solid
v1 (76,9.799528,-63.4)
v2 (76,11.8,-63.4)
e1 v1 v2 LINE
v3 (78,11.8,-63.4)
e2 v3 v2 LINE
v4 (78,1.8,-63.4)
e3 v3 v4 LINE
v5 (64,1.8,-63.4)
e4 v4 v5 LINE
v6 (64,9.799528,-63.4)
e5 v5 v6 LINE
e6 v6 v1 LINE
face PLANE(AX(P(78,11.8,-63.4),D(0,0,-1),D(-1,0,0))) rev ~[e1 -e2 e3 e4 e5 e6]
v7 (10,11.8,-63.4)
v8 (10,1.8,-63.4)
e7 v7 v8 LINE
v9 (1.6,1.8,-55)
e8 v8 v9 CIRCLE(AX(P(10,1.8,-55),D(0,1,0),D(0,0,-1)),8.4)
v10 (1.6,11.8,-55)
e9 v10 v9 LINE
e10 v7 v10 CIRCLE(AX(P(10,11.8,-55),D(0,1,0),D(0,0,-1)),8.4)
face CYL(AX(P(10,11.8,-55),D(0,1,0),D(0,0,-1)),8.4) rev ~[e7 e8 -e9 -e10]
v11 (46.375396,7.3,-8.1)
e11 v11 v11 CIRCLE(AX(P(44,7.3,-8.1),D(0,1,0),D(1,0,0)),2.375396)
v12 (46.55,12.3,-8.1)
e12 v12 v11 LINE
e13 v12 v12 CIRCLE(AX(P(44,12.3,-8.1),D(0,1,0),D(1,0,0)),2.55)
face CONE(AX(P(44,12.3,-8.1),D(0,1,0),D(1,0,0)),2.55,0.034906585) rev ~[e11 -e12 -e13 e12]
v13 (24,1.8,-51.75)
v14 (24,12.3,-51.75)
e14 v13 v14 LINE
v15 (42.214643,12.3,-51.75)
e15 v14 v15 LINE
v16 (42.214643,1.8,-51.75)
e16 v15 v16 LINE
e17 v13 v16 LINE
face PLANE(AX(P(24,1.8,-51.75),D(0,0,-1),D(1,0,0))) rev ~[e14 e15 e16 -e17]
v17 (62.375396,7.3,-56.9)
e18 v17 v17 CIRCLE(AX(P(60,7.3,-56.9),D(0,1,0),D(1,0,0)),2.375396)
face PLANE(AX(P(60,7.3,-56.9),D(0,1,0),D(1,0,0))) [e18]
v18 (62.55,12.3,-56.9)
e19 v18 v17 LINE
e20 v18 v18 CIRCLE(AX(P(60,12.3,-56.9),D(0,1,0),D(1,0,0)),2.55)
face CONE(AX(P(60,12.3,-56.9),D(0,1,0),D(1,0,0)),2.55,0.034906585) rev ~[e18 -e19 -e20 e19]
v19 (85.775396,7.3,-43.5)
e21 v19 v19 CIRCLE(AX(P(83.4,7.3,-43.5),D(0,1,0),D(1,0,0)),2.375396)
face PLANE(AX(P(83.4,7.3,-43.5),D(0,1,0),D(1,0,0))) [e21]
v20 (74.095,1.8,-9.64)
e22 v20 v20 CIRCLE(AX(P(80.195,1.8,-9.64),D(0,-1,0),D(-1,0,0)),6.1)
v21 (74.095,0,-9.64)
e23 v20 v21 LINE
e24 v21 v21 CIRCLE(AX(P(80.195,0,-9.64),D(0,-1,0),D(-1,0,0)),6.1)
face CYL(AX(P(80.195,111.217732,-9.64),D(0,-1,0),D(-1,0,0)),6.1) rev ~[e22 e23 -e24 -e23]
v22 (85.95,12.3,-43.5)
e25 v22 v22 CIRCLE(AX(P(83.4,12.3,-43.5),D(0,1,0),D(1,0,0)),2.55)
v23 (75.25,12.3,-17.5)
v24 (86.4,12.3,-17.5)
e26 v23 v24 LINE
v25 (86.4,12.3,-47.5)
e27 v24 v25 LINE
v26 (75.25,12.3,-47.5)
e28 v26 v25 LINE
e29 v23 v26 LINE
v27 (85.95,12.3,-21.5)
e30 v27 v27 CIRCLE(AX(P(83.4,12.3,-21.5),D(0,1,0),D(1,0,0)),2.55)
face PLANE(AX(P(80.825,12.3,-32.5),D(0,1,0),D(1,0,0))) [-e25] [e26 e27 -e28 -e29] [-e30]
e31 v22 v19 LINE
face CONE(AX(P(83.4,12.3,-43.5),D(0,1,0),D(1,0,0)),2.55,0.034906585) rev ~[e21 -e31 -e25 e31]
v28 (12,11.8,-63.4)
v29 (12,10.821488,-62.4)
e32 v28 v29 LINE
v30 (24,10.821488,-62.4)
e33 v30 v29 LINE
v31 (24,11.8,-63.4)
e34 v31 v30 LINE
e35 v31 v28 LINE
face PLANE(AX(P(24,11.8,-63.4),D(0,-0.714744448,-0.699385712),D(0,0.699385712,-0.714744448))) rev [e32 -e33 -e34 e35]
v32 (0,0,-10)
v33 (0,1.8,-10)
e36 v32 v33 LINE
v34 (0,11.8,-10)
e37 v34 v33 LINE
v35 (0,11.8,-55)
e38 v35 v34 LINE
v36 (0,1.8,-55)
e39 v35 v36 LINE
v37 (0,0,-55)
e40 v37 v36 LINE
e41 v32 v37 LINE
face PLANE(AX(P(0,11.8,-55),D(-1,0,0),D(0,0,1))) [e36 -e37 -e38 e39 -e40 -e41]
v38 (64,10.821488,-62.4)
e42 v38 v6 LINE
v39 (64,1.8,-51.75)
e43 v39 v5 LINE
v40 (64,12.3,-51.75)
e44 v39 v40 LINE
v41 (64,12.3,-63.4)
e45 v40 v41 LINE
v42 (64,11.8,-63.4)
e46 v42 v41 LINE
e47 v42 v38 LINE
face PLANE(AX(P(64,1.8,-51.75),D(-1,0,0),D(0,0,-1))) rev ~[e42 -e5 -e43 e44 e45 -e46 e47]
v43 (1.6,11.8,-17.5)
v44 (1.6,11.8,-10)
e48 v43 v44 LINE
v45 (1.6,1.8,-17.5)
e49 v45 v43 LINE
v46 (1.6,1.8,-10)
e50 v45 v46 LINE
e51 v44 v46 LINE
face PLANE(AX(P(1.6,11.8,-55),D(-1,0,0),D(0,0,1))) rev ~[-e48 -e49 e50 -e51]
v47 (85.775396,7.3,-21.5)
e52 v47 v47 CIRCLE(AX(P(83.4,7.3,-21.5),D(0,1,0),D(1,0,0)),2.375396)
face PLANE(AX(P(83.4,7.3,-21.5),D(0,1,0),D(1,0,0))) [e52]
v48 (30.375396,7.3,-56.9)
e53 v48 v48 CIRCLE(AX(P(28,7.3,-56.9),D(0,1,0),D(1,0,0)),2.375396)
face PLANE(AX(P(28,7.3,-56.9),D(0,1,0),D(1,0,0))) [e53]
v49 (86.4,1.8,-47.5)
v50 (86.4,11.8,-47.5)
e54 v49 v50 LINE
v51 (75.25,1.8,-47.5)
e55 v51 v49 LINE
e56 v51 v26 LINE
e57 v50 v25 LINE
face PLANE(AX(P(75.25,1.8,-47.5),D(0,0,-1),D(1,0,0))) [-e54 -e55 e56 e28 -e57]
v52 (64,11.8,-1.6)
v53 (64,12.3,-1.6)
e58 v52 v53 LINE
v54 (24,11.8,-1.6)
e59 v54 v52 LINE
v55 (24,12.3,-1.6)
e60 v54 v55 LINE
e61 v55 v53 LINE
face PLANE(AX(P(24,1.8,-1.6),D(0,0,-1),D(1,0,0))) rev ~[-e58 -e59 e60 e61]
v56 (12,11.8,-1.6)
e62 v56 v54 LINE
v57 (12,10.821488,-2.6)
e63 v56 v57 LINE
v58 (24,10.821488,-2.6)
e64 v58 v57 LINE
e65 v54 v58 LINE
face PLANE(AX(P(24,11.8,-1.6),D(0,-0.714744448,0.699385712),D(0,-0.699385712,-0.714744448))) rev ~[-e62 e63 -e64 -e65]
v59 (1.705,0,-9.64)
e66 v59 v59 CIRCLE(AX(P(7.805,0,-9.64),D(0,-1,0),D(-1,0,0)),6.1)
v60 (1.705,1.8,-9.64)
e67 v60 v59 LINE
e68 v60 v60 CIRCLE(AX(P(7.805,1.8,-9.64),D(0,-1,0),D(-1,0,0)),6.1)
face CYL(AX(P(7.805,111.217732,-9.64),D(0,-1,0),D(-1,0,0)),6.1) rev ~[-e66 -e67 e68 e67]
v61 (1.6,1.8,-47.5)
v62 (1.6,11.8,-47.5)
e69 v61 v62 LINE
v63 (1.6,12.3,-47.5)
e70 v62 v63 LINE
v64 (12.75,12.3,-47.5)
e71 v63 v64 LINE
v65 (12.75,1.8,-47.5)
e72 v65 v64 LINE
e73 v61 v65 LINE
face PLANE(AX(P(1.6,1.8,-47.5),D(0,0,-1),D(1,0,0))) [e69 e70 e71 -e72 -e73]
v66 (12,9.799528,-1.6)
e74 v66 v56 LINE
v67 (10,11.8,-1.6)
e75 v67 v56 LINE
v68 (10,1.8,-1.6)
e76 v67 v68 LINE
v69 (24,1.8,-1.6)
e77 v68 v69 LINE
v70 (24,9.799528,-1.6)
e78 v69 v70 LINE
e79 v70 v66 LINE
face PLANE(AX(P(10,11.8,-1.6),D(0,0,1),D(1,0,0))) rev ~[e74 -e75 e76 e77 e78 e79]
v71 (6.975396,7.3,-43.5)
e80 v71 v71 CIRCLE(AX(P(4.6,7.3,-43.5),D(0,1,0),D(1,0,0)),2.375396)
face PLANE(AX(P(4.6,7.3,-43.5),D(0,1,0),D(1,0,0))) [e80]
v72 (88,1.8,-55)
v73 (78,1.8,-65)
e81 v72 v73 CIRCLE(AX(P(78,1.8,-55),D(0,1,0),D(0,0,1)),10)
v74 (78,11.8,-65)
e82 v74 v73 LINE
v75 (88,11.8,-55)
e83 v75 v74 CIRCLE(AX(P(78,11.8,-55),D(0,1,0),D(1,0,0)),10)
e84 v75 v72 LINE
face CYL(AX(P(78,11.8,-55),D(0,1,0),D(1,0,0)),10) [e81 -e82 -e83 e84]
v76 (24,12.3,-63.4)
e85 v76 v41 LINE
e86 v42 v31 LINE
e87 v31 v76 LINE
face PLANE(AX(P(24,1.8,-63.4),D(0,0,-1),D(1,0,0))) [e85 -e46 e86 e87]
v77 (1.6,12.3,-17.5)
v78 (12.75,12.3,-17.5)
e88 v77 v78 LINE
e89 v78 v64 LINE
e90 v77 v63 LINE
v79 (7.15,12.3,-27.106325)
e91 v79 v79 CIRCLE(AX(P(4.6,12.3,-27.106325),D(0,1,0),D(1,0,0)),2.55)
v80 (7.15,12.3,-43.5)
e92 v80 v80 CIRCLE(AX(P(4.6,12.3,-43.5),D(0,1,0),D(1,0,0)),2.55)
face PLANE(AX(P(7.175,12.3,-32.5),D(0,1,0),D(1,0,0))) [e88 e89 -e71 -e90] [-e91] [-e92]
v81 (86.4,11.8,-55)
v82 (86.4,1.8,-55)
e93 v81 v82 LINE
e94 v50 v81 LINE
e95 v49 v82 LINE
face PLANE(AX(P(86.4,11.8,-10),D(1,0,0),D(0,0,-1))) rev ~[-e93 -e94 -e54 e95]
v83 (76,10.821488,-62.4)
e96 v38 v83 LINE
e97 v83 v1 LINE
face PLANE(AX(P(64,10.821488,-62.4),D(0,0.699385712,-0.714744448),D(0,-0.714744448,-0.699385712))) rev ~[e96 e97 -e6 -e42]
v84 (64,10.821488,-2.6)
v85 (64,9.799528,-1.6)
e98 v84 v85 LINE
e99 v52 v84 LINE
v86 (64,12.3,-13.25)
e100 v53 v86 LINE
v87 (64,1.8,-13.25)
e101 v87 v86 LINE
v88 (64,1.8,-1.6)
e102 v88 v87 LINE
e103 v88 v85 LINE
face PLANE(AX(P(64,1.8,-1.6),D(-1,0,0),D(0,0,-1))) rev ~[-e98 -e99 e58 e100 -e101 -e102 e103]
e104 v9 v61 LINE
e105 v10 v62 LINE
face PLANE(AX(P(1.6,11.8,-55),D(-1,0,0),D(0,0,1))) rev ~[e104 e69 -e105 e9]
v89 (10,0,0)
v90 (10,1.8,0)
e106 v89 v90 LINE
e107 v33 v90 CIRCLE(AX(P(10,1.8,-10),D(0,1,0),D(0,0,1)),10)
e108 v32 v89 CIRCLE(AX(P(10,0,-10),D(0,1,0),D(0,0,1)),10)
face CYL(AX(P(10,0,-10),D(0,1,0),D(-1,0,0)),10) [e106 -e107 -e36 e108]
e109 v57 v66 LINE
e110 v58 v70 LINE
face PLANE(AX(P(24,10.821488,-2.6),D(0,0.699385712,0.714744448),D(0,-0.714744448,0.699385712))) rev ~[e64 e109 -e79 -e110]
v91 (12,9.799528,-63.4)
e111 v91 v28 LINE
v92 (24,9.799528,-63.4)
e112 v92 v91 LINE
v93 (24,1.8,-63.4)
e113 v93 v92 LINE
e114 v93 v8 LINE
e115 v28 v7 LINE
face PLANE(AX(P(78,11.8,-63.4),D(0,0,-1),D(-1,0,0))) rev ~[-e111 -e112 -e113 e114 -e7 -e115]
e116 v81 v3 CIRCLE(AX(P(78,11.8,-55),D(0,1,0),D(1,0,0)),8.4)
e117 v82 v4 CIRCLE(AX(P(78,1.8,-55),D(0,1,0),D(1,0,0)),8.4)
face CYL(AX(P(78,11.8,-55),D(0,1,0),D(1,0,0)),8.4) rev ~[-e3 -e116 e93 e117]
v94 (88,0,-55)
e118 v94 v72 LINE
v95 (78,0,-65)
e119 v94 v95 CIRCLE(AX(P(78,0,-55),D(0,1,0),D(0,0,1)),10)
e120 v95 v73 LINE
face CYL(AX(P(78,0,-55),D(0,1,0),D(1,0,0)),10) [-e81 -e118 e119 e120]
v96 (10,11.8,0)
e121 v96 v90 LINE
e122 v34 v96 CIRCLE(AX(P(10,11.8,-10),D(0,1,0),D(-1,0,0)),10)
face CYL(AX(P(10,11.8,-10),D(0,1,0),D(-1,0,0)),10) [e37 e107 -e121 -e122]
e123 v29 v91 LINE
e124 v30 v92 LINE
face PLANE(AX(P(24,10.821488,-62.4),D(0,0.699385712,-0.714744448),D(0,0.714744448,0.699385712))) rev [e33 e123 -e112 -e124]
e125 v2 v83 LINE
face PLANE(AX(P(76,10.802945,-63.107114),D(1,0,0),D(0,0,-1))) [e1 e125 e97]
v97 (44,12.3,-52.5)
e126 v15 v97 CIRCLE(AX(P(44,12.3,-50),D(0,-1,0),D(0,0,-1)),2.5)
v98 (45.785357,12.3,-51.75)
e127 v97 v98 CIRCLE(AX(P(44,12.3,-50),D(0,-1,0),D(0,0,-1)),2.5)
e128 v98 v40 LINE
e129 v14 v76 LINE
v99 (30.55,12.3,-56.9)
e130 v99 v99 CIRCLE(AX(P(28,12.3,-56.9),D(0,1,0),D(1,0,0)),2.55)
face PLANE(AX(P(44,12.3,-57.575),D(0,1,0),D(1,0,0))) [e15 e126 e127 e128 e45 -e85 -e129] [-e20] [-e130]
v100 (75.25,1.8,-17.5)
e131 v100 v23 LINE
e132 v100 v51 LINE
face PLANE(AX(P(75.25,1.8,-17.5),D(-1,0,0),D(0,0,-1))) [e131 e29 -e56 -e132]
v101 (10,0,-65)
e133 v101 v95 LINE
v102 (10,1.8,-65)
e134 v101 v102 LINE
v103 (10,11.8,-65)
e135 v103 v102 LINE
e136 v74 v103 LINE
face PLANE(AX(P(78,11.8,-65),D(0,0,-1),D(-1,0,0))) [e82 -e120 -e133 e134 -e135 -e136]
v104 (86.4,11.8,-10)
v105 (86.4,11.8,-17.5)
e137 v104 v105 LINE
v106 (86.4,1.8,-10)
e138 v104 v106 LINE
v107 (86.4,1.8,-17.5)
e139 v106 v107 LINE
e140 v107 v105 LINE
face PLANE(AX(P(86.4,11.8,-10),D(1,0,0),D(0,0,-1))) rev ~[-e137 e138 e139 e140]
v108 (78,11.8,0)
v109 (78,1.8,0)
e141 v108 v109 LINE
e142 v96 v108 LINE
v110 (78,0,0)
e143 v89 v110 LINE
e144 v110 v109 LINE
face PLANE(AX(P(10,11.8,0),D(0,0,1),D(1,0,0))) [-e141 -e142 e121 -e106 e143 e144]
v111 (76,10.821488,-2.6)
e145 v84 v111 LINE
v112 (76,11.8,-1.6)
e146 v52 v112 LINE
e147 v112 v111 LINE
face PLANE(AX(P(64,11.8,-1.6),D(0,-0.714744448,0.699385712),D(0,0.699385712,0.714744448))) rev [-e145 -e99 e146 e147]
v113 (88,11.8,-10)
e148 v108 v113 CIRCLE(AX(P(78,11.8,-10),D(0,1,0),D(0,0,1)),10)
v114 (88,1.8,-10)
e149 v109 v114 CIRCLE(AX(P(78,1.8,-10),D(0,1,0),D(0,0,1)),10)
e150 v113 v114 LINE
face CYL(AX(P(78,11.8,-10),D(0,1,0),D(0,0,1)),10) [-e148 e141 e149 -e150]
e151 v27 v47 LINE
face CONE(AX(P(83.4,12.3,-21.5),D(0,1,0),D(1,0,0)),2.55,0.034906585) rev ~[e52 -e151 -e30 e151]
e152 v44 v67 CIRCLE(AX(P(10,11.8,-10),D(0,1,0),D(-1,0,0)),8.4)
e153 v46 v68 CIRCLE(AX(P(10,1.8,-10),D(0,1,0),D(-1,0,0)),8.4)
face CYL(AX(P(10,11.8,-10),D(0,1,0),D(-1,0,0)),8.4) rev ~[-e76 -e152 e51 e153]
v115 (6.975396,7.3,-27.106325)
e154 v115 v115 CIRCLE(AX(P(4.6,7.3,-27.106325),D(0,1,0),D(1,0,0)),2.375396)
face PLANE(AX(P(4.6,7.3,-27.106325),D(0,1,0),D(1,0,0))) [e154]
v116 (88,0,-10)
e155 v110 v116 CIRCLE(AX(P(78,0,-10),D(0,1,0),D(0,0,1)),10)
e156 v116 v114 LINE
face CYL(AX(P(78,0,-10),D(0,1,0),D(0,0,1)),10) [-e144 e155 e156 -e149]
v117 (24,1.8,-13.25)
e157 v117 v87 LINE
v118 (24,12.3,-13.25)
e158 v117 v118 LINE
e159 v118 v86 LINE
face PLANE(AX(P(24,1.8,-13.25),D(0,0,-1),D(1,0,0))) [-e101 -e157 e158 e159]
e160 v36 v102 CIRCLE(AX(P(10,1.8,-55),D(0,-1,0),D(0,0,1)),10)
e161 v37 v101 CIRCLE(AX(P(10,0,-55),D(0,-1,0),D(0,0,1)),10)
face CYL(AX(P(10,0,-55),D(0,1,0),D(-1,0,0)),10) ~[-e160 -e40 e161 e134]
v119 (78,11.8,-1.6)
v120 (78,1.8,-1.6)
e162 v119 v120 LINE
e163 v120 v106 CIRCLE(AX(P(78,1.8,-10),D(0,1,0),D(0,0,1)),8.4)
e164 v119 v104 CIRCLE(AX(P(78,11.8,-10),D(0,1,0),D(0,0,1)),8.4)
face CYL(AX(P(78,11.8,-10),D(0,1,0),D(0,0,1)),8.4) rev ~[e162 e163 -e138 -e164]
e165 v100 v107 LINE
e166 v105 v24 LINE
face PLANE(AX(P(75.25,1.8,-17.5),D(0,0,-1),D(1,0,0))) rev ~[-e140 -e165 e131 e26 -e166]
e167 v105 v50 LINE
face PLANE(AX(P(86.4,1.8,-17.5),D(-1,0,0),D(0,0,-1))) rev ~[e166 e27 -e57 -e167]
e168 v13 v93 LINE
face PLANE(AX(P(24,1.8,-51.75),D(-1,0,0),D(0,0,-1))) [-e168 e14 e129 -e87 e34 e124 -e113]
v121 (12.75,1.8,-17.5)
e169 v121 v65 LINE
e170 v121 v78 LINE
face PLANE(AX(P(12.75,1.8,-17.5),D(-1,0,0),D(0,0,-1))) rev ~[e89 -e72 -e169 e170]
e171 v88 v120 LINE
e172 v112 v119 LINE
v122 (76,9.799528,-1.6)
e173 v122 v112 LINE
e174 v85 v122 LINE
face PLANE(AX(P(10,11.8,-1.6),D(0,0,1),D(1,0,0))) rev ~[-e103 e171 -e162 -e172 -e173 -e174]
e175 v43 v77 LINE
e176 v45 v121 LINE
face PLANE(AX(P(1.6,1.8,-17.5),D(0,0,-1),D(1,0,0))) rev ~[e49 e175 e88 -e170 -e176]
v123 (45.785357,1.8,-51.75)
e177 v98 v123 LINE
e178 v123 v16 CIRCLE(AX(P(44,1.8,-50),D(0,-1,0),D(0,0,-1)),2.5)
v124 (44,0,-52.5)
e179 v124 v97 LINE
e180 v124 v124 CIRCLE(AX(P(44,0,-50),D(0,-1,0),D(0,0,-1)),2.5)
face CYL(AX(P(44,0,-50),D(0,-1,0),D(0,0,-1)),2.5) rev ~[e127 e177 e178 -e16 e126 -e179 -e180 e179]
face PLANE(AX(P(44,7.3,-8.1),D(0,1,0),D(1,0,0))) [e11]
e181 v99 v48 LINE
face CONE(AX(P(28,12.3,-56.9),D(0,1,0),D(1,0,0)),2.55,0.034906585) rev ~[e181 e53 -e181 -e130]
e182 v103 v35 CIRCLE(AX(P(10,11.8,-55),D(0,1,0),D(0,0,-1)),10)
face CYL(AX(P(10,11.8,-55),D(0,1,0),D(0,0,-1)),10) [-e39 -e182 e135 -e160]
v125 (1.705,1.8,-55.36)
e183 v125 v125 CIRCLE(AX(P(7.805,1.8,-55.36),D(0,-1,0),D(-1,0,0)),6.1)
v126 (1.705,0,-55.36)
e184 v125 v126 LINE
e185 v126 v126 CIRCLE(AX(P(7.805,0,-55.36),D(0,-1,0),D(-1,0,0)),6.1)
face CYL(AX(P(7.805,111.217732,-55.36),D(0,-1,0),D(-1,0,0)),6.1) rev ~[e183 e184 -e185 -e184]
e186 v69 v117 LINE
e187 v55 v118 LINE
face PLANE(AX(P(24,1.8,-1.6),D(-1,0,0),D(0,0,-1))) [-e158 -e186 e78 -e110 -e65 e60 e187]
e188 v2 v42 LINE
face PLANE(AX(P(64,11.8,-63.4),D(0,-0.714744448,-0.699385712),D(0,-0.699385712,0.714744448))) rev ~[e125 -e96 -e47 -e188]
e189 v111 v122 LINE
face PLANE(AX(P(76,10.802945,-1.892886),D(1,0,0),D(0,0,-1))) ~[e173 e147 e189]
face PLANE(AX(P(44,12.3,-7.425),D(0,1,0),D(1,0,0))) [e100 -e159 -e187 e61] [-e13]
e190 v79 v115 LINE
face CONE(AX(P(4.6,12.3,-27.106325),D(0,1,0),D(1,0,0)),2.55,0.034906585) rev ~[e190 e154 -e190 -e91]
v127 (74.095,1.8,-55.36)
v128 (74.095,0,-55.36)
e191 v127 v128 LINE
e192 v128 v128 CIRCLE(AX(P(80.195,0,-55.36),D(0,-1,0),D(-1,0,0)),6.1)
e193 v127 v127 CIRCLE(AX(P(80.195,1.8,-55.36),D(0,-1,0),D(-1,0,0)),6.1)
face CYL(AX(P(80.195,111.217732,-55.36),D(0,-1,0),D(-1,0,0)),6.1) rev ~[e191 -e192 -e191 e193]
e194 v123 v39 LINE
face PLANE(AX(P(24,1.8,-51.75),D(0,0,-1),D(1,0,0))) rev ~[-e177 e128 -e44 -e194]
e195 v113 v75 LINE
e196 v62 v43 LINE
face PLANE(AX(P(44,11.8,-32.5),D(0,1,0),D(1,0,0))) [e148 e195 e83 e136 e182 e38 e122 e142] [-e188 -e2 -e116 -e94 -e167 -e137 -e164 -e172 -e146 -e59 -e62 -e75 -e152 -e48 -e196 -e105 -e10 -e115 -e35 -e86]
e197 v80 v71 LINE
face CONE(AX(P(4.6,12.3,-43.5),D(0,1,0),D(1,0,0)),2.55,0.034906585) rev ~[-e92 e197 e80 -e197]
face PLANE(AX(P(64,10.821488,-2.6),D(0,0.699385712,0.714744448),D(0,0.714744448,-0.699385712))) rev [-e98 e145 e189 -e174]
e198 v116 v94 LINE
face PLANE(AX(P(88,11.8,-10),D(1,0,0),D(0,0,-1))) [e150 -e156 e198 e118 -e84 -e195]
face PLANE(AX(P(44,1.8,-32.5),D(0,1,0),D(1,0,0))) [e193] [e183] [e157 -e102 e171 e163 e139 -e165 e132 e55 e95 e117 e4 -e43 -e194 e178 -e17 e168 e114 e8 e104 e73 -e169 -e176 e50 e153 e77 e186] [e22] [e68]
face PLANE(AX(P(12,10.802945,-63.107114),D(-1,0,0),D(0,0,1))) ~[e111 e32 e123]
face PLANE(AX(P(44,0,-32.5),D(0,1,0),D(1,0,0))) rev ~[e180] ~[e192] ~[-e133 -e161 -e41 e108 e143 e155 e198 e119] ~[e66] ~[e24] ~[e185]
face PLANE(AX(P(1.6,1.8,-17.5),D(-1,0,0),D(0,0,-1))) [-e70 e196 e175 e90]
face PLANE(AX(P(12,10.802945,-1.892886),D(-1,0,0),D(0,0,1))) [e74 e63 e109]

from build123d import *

# Parameters (mm, degrees)
SKETCH1_W                                = 88
SKETCH1_H                                = 65
BOSS_EXTRUDE2_DEPTH                      = 1.8
FILLET1_R                                = 10
F_12_2_12_2_DIAMETER_HOLE1_D             = 12.2
BOSS_EXTRUDE3_START                      = 10
BOSS_EXTRUDE3_DEPTH                      = 10
SKETCH5_W                                = 40
SKETCH5_H                                = 11.65
SKETCH5_W_2                              = 11.15
SKETCH5_H_2                              = 30
BOSS_EXTRUDE4_DEPTH                      = 10.5
SKETCH6_R                                = 2.55
CUT_EXTRUDE1_DEPTH                       = 5
CUT_EXTRUDE1_DRAFT                       = -2
CUT_EXTRUDE1_PROFILE_2_DEPTH             = 5
CUT_EXTRUDE1_PROFILE_2_DRAFT             = -2
CUT_EXTRUDE1_PROFILE_3_DEPTH             = 5
CUT_EXTRUDE1_PROFILE_3_DRAFT             = -2
CUT_EXTRUDE1_PROFILE_4_DEPTH             = 5
CUT_EXTRUDE1_PROFILE_4_DRAFT             = -2
CUT_EXTRUDE1_PROFILE_5_DEPTH             = 5
CUT_EXTRUDE1_PROFILE_5_DRAFT             = -2
CUT_EXTRUDE1_PROFILE_6_DEPTH             = 5
CUT_EXTRUDE1_PROFILE_6_DRAFT             = -2
CUT_EXTRUDE1_PROFILE_7_DEPTH             = 5
CUT_EXTRUDE1_PROFILE_7_DRAFT             = -2
SKETCH7_R                                = 2.5
CUT_EXTRUDE2_DEPTH                       = 111.092188642
BOSS_EXTRUDE5_DEPTH                      = 12
MIRROR1_AT_THE_SECOND_PLANE_COPY_1_DEPTH = 12


with BuildPart() as part:
    # Sketch1 → Boss-Extrude2 (new body)
    with BuildSketch(Plane(origin=(0, 0, 0), x_dir=(1, 0, 0), z_dir=(0, 1, 0))):
        with Locations((44, 32.5)):
            Rectangle(SKETCH1_W, SKETCH1_H)
    extrude(amount=BOSS_EXTRUDE2_DEPTH)

    # Fillet1
    fillet1_edges = [part.edges().sort_by_distance(p)[0] for p in [
        (0, 0.9, -65),
        (88, 0.9, -65),
        (88, 0.9, 0),
        (0, 0.9, 0),
    ]]
    fillet(fillet1_edges, radius=FILLET1_R)

    # Ø12.2 (12.2) Diameter Hole1 (through all)
    with Locations(Plane(origin=(0, 1.8, 0), x_dir=(1, 0, 0), z_dir=(0, 1, 0))):
        with Locations((7.805, 55.36), (80.195, 55.36), (7.805, 9.64), (80.195, 9.64)):
            Hole(F_12_2_12_2_DIAMETER_HOLE1_D / 2)

    # Sketch4 → Boss-Extrude3 (add)
    with BuildSketch(Plane(origin=(0, 1.8, 0), x_dir=(1, 0, 0), z_dir=(0, 1, 0)).offset(BOSS_EXTRUDE3_START)):
        with BuildLine():
            Line((78, 65), (10, 65))
            ThreePointArc((10, 65), (2.928932188, 62.071067812), (0, 55))
            Line((0, 55), (0, 10))
            ThreePointArc((0, 10), (2.928932188, 2.928932188), (10, 0))
            Line((10, 0), (78, 0))
            ThreePointArc((78, 0), (85.071067812, 2.928932188), (88, 10))
            Line((88, 10), (88, 55))
            ThreePointArc((88, 55), (85.071067812, 62.071067812), (78, 65))
        make_face()
        with BuildLine():
            Line((78, 63.4), (10, 63.4))
            ThreePointArc((10, 63.4), (4.060303038, 60.939696962), (1.6, 55))
            Line((1.6, 55), (1.6, 10))
            ThreePointArc((1.6, 10), (4.060303038, 4.060303038), (10, 1.6))
            Line((10, 1.6), (78, 1.6))
            ThreePointArc((78, 1.6), (83.939696962, 4.060303038), (86.4, 10))
            Line((86.4, 10), (86.4, 55))
            ThreePointArc((86.4, 55), (83.939696962, 60.939696962), (78, 63.4))
        make_face(mode=Mode.SUBTRACT)
    extrude(amount=-BOSS_EXTRUDE3_DEPTH)

    # Sketch5 → Boss-Extrude4 (add)
    with BuildSketch(Plane(origin=(0, 1.8, 0), x_dir=(1, 0, 0), z_dir=(0, 1, 0))):
        with Locations((44, 57.575)):
            Rectangle(SKETCH5_W, SKETCH5_H)
        with Locations((44, 7.425)):
            Rectangle(SKETCH5_W, SKETCH5_H)
        with Locations((80.825, 32.5)):
            Rectangle(SKETCH5_W_2, SKETCH5_H_2)
        with Locations((7.175, 32.5)):
            Rectangle(SKETCH5_W_2, SKETCH5_H_2)
    extrude(amount=BOSS_EXTRUDE4_DEPTH)


with BuildPart() as cut_extrude1_tool:
    # Sketch6 → Cut-Extrude1 (with draft: the straight prism first)
    with BuildSketch(Plane(origin=(0, 12.3, 0), x_dir=(1, 0, 0), z_dir=(0, 1, 0))):
        with Locations((60, 56.9)):
            Circle(SKETCH6_R)
    extrude(amount=-CUT_EXTRUDE1_DEPTH)
    # Cut-Extrude1: the draft: its side faces are tilted about the plane it starts from
    cut_extrude1_sides = [cut_extrude1_tool.faces().sort_by_distance(p)[0] for p in [
        (57.45, 9.8, -56.9),
    ]]
    draft(cut_extrude1_sides, Plane(origin=(0, 12.3, 0), x_dir=(1, 0, 0), z_dir=(0, 1, 0)), CUT_EXTRUDE1_DRAFT)


with BuildPart() as part_1:
    add(part.part)

    # Cut-Extrude1: cut by cut_extrude1_tool
    add(cut_extrude1_tool.part, mode=Mode.SUBTRACT)


with BuildPart() as cut_extrude1_profile_2_tool:
    # Sketch6 → Cut-Extrude1 profile 2 (with draft: the straight prism first)
    with BuildSketch(Plane(origin=(0, 12.3, 0), x_dir=(1, 0, 0), z_dir=(0, 1, 0))):
        with Locations((28, 56.9)):
            Circle(SKETCH6_R)
    extrude(amount=-CUT_EXTRUDE1_PROFILE_2_DEPTH)
    # Cut-Extrude1 profile 2: the draft: its side faces are tilted about the plane it starts from
    cut_extrude1_profile_2_sides = [cut_extrude1_profile_2_tool.faces().sort_by_distance(p)[0] for p in [
        (25.45, 9.8, -56.9),
    ]]
    draft(cut_extrude1_profile_2_sides, Plane(origin=(0, 12.3, 0), x_dir=(1, 0, 0), z_dir=(0, 1, 0)), CUT_EXTRUDE1_PROFILE_2_DRAFT)


with BuildPart() as part_2:
    add(part_1.part)

    # Cut-Extrude1 profile 2: cut by cut_extrude1_profile_2_tool
    add(cut_extrude1_profile_2_tool.part, mode=Mode.SUBTRACT)


with BuildPart() as cut_extrude1_profile_3_tool:
    # Sketch6 → Cut-Extrude1 profile 3 (with draft: the straight prism first)
    with BuildSketch(Plane(origin=(0, 12.3, 0), x_dir=(1, 0, 0), z_dir=(0, 1, 0))):
        with Locations((4.6, 43.5)):
            Circle(SKETCH6_R)
    extrude(amount=-CUT_EXTRUDE1_PROFILE_3_DEPTH)
    # Cut-Extrude1 profile 3: the draft: its side faces are tilted about the plane it starts from
    cut_extrude1_profile_3_sides = [cut_extrude1_profile_3_tool.faces().sort_by_distance(p)[0] for p in [
        (2.05, 9.8, -43.5),
    ]]
    draft(cut_extrude1_profile_3_sides, Plane(origin=(0, 12.3, 0), x_dir=(1, 0, 0), z_dir=(0, 1, 0)), CUT_EXTRUDE1_PROFILE_3_DRAFT)


with BuildPart() as part_3:
    add(part_2.part)

    # Cut-Extrude1 profile 3: cut by cut_extrude1_profile_3_tool
    add(cut_extrude1_profile_3_tool.part, mode=Mode.SUBTRACT)


with BuildPart() as cut_extrude1_profile_4_tool:
    # Sketch6 → Cut-Extrude1 profile 4 (with draft: the straight prism first)
    with BuildSketch(Plane(origin=(0, 12.3, 0), x_dir=(1, 0, 0), z_dir=(0, 1, 0))):
        with Locations((4.6, 27.106324955)):
            Circle(SKETCH6_R)
    extrude(amount=-CUT_EXTRUDE1_PROFILE_4_DEPTH)
    # Cut-Extrude1 profile 4: the draft: its side faces are tilted about the plane it starts from
    cut_extrude1_profile_4_sides = [cut_extrude1_profile_4_tool.faces().sort_by_distance(p)[0] for p in [
        (2.05, 9.8, -27.106324955),
    ]]
    draft(cut_extrude1_profile_4_sides, Plane(origin=(0, 12.3, 0), x_dir=(1, 0, 0), z_dir=(0, 1, 0)), CUT_EXTRUDE1_PROFILE_4_DRAFT)


with BuildPart() as part_4:
    add(part_3.part)

    # Cut-Extrude1 profile 4: cut by cut_extrude1_profile_4_tool
    add(cut_extrude1_profile_4_tool.part, mode=Mode.SUBTRACT)


with BuildPart() as cut_extrude1_profile_5_tool:
    # Sketch6 → Cut-Extrude1 profile 5 (with draft: the straight prism first)
    with BuildSketch(Plane(origin=(0, 12.3, 0), x_dir=(1, 0, 0), z_dir=(0, 1, 0))):
        with Locations((83.4, 21.5)):
            Circle(SKETCH6_R)
    extrude(amount=-CUT_EXTRUDE1_PROFILE_5_DEPTH)
    # Cut-Extrude1 profile 5: the draft: its side faces are tilted about the plane it starts from
    cut_extrude1_profile_5_sides = [cut_extrude1_profile_5_tool.faces().sort_by_distance(p)[0] for p in [
        (80.85, 9.8, -21.5),
    ]]
    draft(cut_extrude1_profile_5_sides, Plane(origin=(0, 12.3, 0), x_dir=(1, 0, 0), z_dir=(0, 1, 0)), CUT_EXTRUDE1_PROFILE_5_DRAFT)


with BuildPart() as part_5:
    add(part_4.part)

    # Cut-Extrude1 profile 5: cut by cut_extrude1_profile_5_tool
    add(cut_extrude1_profile_5_tool.part, mode=Mode.SUBTRACT)


with BuildPart() as cut_extrude1_profile_6_tool:
    # Sketch6 → Cut-Extrude1 profile 6 (with draft: the straight prism first)
    with BuildSketch(Plane(origin=(0, 12.3, 0), x_dir=(1, 0, 0), z_dir=(0, 1, 0))):
        with Locations((83.4, 43.5)):
            Circle(SKETCH6_R)
    extrude(amount=-CUT_EXTRUDE1_PROFILE_6_DEPTH)
    # Cut-Extrude1 profile 6: the draft: its side faces are tilted about the plane it starts from
    cut_extrude1_profile_6_sides = [cut_extrude1_profile_6_tool.faces().sort_by_distance(p)[0] for p in [
        (80.85, 9.8, -43.5),
    ]]
    draft(cut_extrude1_profile_6_sides, Plane(origin=(0, 12.3, 0), x_dir=(1, 0, 0), z_dir=(0, 1, 0)), CUT_EXTRUDE1_PROFILE_6_DRAFT)


with BuildPart() as part_6:
    add(part_5.part)

    # Cut-Extrude1 profile 6: cut by cut_extrude1_profile_6_tool
    add(cut_extrude1_profile_6_tool.part, mode=Mode.SUBTRACT)


with BuildPart() as cut_extrude1_profile_7_tool:
    # Sketch6 → Cut-Extrude1 profile 7 (with draft: the straight prism first)
    with BuildSketch(Plane(origin=(0, 12.3, 0), x_dir=(1, 0, 0), z_dir=(0, 1, 0))):
        with Locations((44, 8.1)):
            Circle(SKETCH6_R)
    extrude(amount=-CUT_EXTRUDE1_PROFILE_7_DEPTH)
    # Cut-Extrude1 profile 7: the draft: its side faces are tilted about the plane it starts from
    cut_extrude1_profile_7_sides = [cut_extrude1_profile_7_tool.faces().sort_by_distance(p)[0] for p in [
        (41.45, 9.8, -8.1),
    ]]
    draft(cut_extrude1_profile_7_sides, Plane(origin=(0, 12.3, 0), x_dir=(1, 0, 0), z_dir=(0, 1, 0)), CUT_EXTRUDE1_PROFILE_7_DRAFT)


with BuildPart() as part_7:
    add(part_6.part)

    # Cut-Extrude1 profile 7: cut by cut_extrude1_profile_7_tool
    add(cut_extrude1_profile_7_tool.part, mode=Mode.SUBTRACT)

    # Sketch7 → Cut-Extrude2 (cut, through all)
    with BuildSketch(Plane.XZ):
        with Locations(Location((44, -50, 0), (0, 0, 270))):
            Circle(SKETCH7_R)
    extrude(amount=-CUT_EXTRUDE2_DEPTH, mode=Mode.SUBTRACT)

    # Sketch8 → Boss-Extrude5 (add)
    with BuildSketch(Plane.ZY.offset(-24)):
        Polygon((-1.6, 9.799528107), (-1.6, 11.8), (-2.6, 10.821488431), align=None)
    boss_extrude5 = extrude(amount=BOSS_EXTRUDE5_DEPTH)

    # Mirror1: Boss-Extrude5 across plane
    add(boss_extrude5.mirror(Plane.XY.offset(-32.5)))

    # Mirror1 at the second plane: Boss-Extrude5 across plane
    add(boss_extrude5.mirror(Plane.ZY.offset(-44)))

    # Mirror1 at the second plane copy 1 sketc → Mirror1 at the second plane copy 1 (add)
    with BuildSketch(Plane(origin=(64, 0, -65), x_dir=(0, 0, -1), z_dir=(1, 0, 0))):
        Polygon((-1.6, 9.799528107), (-1.6, 11.8), (-2.6, 10.821488431), align=None)
    extrude(amount=MIRROR1_AT_THE_SECOND_PLANE_COPY_1_DEPTH)


solid = part_7.part
